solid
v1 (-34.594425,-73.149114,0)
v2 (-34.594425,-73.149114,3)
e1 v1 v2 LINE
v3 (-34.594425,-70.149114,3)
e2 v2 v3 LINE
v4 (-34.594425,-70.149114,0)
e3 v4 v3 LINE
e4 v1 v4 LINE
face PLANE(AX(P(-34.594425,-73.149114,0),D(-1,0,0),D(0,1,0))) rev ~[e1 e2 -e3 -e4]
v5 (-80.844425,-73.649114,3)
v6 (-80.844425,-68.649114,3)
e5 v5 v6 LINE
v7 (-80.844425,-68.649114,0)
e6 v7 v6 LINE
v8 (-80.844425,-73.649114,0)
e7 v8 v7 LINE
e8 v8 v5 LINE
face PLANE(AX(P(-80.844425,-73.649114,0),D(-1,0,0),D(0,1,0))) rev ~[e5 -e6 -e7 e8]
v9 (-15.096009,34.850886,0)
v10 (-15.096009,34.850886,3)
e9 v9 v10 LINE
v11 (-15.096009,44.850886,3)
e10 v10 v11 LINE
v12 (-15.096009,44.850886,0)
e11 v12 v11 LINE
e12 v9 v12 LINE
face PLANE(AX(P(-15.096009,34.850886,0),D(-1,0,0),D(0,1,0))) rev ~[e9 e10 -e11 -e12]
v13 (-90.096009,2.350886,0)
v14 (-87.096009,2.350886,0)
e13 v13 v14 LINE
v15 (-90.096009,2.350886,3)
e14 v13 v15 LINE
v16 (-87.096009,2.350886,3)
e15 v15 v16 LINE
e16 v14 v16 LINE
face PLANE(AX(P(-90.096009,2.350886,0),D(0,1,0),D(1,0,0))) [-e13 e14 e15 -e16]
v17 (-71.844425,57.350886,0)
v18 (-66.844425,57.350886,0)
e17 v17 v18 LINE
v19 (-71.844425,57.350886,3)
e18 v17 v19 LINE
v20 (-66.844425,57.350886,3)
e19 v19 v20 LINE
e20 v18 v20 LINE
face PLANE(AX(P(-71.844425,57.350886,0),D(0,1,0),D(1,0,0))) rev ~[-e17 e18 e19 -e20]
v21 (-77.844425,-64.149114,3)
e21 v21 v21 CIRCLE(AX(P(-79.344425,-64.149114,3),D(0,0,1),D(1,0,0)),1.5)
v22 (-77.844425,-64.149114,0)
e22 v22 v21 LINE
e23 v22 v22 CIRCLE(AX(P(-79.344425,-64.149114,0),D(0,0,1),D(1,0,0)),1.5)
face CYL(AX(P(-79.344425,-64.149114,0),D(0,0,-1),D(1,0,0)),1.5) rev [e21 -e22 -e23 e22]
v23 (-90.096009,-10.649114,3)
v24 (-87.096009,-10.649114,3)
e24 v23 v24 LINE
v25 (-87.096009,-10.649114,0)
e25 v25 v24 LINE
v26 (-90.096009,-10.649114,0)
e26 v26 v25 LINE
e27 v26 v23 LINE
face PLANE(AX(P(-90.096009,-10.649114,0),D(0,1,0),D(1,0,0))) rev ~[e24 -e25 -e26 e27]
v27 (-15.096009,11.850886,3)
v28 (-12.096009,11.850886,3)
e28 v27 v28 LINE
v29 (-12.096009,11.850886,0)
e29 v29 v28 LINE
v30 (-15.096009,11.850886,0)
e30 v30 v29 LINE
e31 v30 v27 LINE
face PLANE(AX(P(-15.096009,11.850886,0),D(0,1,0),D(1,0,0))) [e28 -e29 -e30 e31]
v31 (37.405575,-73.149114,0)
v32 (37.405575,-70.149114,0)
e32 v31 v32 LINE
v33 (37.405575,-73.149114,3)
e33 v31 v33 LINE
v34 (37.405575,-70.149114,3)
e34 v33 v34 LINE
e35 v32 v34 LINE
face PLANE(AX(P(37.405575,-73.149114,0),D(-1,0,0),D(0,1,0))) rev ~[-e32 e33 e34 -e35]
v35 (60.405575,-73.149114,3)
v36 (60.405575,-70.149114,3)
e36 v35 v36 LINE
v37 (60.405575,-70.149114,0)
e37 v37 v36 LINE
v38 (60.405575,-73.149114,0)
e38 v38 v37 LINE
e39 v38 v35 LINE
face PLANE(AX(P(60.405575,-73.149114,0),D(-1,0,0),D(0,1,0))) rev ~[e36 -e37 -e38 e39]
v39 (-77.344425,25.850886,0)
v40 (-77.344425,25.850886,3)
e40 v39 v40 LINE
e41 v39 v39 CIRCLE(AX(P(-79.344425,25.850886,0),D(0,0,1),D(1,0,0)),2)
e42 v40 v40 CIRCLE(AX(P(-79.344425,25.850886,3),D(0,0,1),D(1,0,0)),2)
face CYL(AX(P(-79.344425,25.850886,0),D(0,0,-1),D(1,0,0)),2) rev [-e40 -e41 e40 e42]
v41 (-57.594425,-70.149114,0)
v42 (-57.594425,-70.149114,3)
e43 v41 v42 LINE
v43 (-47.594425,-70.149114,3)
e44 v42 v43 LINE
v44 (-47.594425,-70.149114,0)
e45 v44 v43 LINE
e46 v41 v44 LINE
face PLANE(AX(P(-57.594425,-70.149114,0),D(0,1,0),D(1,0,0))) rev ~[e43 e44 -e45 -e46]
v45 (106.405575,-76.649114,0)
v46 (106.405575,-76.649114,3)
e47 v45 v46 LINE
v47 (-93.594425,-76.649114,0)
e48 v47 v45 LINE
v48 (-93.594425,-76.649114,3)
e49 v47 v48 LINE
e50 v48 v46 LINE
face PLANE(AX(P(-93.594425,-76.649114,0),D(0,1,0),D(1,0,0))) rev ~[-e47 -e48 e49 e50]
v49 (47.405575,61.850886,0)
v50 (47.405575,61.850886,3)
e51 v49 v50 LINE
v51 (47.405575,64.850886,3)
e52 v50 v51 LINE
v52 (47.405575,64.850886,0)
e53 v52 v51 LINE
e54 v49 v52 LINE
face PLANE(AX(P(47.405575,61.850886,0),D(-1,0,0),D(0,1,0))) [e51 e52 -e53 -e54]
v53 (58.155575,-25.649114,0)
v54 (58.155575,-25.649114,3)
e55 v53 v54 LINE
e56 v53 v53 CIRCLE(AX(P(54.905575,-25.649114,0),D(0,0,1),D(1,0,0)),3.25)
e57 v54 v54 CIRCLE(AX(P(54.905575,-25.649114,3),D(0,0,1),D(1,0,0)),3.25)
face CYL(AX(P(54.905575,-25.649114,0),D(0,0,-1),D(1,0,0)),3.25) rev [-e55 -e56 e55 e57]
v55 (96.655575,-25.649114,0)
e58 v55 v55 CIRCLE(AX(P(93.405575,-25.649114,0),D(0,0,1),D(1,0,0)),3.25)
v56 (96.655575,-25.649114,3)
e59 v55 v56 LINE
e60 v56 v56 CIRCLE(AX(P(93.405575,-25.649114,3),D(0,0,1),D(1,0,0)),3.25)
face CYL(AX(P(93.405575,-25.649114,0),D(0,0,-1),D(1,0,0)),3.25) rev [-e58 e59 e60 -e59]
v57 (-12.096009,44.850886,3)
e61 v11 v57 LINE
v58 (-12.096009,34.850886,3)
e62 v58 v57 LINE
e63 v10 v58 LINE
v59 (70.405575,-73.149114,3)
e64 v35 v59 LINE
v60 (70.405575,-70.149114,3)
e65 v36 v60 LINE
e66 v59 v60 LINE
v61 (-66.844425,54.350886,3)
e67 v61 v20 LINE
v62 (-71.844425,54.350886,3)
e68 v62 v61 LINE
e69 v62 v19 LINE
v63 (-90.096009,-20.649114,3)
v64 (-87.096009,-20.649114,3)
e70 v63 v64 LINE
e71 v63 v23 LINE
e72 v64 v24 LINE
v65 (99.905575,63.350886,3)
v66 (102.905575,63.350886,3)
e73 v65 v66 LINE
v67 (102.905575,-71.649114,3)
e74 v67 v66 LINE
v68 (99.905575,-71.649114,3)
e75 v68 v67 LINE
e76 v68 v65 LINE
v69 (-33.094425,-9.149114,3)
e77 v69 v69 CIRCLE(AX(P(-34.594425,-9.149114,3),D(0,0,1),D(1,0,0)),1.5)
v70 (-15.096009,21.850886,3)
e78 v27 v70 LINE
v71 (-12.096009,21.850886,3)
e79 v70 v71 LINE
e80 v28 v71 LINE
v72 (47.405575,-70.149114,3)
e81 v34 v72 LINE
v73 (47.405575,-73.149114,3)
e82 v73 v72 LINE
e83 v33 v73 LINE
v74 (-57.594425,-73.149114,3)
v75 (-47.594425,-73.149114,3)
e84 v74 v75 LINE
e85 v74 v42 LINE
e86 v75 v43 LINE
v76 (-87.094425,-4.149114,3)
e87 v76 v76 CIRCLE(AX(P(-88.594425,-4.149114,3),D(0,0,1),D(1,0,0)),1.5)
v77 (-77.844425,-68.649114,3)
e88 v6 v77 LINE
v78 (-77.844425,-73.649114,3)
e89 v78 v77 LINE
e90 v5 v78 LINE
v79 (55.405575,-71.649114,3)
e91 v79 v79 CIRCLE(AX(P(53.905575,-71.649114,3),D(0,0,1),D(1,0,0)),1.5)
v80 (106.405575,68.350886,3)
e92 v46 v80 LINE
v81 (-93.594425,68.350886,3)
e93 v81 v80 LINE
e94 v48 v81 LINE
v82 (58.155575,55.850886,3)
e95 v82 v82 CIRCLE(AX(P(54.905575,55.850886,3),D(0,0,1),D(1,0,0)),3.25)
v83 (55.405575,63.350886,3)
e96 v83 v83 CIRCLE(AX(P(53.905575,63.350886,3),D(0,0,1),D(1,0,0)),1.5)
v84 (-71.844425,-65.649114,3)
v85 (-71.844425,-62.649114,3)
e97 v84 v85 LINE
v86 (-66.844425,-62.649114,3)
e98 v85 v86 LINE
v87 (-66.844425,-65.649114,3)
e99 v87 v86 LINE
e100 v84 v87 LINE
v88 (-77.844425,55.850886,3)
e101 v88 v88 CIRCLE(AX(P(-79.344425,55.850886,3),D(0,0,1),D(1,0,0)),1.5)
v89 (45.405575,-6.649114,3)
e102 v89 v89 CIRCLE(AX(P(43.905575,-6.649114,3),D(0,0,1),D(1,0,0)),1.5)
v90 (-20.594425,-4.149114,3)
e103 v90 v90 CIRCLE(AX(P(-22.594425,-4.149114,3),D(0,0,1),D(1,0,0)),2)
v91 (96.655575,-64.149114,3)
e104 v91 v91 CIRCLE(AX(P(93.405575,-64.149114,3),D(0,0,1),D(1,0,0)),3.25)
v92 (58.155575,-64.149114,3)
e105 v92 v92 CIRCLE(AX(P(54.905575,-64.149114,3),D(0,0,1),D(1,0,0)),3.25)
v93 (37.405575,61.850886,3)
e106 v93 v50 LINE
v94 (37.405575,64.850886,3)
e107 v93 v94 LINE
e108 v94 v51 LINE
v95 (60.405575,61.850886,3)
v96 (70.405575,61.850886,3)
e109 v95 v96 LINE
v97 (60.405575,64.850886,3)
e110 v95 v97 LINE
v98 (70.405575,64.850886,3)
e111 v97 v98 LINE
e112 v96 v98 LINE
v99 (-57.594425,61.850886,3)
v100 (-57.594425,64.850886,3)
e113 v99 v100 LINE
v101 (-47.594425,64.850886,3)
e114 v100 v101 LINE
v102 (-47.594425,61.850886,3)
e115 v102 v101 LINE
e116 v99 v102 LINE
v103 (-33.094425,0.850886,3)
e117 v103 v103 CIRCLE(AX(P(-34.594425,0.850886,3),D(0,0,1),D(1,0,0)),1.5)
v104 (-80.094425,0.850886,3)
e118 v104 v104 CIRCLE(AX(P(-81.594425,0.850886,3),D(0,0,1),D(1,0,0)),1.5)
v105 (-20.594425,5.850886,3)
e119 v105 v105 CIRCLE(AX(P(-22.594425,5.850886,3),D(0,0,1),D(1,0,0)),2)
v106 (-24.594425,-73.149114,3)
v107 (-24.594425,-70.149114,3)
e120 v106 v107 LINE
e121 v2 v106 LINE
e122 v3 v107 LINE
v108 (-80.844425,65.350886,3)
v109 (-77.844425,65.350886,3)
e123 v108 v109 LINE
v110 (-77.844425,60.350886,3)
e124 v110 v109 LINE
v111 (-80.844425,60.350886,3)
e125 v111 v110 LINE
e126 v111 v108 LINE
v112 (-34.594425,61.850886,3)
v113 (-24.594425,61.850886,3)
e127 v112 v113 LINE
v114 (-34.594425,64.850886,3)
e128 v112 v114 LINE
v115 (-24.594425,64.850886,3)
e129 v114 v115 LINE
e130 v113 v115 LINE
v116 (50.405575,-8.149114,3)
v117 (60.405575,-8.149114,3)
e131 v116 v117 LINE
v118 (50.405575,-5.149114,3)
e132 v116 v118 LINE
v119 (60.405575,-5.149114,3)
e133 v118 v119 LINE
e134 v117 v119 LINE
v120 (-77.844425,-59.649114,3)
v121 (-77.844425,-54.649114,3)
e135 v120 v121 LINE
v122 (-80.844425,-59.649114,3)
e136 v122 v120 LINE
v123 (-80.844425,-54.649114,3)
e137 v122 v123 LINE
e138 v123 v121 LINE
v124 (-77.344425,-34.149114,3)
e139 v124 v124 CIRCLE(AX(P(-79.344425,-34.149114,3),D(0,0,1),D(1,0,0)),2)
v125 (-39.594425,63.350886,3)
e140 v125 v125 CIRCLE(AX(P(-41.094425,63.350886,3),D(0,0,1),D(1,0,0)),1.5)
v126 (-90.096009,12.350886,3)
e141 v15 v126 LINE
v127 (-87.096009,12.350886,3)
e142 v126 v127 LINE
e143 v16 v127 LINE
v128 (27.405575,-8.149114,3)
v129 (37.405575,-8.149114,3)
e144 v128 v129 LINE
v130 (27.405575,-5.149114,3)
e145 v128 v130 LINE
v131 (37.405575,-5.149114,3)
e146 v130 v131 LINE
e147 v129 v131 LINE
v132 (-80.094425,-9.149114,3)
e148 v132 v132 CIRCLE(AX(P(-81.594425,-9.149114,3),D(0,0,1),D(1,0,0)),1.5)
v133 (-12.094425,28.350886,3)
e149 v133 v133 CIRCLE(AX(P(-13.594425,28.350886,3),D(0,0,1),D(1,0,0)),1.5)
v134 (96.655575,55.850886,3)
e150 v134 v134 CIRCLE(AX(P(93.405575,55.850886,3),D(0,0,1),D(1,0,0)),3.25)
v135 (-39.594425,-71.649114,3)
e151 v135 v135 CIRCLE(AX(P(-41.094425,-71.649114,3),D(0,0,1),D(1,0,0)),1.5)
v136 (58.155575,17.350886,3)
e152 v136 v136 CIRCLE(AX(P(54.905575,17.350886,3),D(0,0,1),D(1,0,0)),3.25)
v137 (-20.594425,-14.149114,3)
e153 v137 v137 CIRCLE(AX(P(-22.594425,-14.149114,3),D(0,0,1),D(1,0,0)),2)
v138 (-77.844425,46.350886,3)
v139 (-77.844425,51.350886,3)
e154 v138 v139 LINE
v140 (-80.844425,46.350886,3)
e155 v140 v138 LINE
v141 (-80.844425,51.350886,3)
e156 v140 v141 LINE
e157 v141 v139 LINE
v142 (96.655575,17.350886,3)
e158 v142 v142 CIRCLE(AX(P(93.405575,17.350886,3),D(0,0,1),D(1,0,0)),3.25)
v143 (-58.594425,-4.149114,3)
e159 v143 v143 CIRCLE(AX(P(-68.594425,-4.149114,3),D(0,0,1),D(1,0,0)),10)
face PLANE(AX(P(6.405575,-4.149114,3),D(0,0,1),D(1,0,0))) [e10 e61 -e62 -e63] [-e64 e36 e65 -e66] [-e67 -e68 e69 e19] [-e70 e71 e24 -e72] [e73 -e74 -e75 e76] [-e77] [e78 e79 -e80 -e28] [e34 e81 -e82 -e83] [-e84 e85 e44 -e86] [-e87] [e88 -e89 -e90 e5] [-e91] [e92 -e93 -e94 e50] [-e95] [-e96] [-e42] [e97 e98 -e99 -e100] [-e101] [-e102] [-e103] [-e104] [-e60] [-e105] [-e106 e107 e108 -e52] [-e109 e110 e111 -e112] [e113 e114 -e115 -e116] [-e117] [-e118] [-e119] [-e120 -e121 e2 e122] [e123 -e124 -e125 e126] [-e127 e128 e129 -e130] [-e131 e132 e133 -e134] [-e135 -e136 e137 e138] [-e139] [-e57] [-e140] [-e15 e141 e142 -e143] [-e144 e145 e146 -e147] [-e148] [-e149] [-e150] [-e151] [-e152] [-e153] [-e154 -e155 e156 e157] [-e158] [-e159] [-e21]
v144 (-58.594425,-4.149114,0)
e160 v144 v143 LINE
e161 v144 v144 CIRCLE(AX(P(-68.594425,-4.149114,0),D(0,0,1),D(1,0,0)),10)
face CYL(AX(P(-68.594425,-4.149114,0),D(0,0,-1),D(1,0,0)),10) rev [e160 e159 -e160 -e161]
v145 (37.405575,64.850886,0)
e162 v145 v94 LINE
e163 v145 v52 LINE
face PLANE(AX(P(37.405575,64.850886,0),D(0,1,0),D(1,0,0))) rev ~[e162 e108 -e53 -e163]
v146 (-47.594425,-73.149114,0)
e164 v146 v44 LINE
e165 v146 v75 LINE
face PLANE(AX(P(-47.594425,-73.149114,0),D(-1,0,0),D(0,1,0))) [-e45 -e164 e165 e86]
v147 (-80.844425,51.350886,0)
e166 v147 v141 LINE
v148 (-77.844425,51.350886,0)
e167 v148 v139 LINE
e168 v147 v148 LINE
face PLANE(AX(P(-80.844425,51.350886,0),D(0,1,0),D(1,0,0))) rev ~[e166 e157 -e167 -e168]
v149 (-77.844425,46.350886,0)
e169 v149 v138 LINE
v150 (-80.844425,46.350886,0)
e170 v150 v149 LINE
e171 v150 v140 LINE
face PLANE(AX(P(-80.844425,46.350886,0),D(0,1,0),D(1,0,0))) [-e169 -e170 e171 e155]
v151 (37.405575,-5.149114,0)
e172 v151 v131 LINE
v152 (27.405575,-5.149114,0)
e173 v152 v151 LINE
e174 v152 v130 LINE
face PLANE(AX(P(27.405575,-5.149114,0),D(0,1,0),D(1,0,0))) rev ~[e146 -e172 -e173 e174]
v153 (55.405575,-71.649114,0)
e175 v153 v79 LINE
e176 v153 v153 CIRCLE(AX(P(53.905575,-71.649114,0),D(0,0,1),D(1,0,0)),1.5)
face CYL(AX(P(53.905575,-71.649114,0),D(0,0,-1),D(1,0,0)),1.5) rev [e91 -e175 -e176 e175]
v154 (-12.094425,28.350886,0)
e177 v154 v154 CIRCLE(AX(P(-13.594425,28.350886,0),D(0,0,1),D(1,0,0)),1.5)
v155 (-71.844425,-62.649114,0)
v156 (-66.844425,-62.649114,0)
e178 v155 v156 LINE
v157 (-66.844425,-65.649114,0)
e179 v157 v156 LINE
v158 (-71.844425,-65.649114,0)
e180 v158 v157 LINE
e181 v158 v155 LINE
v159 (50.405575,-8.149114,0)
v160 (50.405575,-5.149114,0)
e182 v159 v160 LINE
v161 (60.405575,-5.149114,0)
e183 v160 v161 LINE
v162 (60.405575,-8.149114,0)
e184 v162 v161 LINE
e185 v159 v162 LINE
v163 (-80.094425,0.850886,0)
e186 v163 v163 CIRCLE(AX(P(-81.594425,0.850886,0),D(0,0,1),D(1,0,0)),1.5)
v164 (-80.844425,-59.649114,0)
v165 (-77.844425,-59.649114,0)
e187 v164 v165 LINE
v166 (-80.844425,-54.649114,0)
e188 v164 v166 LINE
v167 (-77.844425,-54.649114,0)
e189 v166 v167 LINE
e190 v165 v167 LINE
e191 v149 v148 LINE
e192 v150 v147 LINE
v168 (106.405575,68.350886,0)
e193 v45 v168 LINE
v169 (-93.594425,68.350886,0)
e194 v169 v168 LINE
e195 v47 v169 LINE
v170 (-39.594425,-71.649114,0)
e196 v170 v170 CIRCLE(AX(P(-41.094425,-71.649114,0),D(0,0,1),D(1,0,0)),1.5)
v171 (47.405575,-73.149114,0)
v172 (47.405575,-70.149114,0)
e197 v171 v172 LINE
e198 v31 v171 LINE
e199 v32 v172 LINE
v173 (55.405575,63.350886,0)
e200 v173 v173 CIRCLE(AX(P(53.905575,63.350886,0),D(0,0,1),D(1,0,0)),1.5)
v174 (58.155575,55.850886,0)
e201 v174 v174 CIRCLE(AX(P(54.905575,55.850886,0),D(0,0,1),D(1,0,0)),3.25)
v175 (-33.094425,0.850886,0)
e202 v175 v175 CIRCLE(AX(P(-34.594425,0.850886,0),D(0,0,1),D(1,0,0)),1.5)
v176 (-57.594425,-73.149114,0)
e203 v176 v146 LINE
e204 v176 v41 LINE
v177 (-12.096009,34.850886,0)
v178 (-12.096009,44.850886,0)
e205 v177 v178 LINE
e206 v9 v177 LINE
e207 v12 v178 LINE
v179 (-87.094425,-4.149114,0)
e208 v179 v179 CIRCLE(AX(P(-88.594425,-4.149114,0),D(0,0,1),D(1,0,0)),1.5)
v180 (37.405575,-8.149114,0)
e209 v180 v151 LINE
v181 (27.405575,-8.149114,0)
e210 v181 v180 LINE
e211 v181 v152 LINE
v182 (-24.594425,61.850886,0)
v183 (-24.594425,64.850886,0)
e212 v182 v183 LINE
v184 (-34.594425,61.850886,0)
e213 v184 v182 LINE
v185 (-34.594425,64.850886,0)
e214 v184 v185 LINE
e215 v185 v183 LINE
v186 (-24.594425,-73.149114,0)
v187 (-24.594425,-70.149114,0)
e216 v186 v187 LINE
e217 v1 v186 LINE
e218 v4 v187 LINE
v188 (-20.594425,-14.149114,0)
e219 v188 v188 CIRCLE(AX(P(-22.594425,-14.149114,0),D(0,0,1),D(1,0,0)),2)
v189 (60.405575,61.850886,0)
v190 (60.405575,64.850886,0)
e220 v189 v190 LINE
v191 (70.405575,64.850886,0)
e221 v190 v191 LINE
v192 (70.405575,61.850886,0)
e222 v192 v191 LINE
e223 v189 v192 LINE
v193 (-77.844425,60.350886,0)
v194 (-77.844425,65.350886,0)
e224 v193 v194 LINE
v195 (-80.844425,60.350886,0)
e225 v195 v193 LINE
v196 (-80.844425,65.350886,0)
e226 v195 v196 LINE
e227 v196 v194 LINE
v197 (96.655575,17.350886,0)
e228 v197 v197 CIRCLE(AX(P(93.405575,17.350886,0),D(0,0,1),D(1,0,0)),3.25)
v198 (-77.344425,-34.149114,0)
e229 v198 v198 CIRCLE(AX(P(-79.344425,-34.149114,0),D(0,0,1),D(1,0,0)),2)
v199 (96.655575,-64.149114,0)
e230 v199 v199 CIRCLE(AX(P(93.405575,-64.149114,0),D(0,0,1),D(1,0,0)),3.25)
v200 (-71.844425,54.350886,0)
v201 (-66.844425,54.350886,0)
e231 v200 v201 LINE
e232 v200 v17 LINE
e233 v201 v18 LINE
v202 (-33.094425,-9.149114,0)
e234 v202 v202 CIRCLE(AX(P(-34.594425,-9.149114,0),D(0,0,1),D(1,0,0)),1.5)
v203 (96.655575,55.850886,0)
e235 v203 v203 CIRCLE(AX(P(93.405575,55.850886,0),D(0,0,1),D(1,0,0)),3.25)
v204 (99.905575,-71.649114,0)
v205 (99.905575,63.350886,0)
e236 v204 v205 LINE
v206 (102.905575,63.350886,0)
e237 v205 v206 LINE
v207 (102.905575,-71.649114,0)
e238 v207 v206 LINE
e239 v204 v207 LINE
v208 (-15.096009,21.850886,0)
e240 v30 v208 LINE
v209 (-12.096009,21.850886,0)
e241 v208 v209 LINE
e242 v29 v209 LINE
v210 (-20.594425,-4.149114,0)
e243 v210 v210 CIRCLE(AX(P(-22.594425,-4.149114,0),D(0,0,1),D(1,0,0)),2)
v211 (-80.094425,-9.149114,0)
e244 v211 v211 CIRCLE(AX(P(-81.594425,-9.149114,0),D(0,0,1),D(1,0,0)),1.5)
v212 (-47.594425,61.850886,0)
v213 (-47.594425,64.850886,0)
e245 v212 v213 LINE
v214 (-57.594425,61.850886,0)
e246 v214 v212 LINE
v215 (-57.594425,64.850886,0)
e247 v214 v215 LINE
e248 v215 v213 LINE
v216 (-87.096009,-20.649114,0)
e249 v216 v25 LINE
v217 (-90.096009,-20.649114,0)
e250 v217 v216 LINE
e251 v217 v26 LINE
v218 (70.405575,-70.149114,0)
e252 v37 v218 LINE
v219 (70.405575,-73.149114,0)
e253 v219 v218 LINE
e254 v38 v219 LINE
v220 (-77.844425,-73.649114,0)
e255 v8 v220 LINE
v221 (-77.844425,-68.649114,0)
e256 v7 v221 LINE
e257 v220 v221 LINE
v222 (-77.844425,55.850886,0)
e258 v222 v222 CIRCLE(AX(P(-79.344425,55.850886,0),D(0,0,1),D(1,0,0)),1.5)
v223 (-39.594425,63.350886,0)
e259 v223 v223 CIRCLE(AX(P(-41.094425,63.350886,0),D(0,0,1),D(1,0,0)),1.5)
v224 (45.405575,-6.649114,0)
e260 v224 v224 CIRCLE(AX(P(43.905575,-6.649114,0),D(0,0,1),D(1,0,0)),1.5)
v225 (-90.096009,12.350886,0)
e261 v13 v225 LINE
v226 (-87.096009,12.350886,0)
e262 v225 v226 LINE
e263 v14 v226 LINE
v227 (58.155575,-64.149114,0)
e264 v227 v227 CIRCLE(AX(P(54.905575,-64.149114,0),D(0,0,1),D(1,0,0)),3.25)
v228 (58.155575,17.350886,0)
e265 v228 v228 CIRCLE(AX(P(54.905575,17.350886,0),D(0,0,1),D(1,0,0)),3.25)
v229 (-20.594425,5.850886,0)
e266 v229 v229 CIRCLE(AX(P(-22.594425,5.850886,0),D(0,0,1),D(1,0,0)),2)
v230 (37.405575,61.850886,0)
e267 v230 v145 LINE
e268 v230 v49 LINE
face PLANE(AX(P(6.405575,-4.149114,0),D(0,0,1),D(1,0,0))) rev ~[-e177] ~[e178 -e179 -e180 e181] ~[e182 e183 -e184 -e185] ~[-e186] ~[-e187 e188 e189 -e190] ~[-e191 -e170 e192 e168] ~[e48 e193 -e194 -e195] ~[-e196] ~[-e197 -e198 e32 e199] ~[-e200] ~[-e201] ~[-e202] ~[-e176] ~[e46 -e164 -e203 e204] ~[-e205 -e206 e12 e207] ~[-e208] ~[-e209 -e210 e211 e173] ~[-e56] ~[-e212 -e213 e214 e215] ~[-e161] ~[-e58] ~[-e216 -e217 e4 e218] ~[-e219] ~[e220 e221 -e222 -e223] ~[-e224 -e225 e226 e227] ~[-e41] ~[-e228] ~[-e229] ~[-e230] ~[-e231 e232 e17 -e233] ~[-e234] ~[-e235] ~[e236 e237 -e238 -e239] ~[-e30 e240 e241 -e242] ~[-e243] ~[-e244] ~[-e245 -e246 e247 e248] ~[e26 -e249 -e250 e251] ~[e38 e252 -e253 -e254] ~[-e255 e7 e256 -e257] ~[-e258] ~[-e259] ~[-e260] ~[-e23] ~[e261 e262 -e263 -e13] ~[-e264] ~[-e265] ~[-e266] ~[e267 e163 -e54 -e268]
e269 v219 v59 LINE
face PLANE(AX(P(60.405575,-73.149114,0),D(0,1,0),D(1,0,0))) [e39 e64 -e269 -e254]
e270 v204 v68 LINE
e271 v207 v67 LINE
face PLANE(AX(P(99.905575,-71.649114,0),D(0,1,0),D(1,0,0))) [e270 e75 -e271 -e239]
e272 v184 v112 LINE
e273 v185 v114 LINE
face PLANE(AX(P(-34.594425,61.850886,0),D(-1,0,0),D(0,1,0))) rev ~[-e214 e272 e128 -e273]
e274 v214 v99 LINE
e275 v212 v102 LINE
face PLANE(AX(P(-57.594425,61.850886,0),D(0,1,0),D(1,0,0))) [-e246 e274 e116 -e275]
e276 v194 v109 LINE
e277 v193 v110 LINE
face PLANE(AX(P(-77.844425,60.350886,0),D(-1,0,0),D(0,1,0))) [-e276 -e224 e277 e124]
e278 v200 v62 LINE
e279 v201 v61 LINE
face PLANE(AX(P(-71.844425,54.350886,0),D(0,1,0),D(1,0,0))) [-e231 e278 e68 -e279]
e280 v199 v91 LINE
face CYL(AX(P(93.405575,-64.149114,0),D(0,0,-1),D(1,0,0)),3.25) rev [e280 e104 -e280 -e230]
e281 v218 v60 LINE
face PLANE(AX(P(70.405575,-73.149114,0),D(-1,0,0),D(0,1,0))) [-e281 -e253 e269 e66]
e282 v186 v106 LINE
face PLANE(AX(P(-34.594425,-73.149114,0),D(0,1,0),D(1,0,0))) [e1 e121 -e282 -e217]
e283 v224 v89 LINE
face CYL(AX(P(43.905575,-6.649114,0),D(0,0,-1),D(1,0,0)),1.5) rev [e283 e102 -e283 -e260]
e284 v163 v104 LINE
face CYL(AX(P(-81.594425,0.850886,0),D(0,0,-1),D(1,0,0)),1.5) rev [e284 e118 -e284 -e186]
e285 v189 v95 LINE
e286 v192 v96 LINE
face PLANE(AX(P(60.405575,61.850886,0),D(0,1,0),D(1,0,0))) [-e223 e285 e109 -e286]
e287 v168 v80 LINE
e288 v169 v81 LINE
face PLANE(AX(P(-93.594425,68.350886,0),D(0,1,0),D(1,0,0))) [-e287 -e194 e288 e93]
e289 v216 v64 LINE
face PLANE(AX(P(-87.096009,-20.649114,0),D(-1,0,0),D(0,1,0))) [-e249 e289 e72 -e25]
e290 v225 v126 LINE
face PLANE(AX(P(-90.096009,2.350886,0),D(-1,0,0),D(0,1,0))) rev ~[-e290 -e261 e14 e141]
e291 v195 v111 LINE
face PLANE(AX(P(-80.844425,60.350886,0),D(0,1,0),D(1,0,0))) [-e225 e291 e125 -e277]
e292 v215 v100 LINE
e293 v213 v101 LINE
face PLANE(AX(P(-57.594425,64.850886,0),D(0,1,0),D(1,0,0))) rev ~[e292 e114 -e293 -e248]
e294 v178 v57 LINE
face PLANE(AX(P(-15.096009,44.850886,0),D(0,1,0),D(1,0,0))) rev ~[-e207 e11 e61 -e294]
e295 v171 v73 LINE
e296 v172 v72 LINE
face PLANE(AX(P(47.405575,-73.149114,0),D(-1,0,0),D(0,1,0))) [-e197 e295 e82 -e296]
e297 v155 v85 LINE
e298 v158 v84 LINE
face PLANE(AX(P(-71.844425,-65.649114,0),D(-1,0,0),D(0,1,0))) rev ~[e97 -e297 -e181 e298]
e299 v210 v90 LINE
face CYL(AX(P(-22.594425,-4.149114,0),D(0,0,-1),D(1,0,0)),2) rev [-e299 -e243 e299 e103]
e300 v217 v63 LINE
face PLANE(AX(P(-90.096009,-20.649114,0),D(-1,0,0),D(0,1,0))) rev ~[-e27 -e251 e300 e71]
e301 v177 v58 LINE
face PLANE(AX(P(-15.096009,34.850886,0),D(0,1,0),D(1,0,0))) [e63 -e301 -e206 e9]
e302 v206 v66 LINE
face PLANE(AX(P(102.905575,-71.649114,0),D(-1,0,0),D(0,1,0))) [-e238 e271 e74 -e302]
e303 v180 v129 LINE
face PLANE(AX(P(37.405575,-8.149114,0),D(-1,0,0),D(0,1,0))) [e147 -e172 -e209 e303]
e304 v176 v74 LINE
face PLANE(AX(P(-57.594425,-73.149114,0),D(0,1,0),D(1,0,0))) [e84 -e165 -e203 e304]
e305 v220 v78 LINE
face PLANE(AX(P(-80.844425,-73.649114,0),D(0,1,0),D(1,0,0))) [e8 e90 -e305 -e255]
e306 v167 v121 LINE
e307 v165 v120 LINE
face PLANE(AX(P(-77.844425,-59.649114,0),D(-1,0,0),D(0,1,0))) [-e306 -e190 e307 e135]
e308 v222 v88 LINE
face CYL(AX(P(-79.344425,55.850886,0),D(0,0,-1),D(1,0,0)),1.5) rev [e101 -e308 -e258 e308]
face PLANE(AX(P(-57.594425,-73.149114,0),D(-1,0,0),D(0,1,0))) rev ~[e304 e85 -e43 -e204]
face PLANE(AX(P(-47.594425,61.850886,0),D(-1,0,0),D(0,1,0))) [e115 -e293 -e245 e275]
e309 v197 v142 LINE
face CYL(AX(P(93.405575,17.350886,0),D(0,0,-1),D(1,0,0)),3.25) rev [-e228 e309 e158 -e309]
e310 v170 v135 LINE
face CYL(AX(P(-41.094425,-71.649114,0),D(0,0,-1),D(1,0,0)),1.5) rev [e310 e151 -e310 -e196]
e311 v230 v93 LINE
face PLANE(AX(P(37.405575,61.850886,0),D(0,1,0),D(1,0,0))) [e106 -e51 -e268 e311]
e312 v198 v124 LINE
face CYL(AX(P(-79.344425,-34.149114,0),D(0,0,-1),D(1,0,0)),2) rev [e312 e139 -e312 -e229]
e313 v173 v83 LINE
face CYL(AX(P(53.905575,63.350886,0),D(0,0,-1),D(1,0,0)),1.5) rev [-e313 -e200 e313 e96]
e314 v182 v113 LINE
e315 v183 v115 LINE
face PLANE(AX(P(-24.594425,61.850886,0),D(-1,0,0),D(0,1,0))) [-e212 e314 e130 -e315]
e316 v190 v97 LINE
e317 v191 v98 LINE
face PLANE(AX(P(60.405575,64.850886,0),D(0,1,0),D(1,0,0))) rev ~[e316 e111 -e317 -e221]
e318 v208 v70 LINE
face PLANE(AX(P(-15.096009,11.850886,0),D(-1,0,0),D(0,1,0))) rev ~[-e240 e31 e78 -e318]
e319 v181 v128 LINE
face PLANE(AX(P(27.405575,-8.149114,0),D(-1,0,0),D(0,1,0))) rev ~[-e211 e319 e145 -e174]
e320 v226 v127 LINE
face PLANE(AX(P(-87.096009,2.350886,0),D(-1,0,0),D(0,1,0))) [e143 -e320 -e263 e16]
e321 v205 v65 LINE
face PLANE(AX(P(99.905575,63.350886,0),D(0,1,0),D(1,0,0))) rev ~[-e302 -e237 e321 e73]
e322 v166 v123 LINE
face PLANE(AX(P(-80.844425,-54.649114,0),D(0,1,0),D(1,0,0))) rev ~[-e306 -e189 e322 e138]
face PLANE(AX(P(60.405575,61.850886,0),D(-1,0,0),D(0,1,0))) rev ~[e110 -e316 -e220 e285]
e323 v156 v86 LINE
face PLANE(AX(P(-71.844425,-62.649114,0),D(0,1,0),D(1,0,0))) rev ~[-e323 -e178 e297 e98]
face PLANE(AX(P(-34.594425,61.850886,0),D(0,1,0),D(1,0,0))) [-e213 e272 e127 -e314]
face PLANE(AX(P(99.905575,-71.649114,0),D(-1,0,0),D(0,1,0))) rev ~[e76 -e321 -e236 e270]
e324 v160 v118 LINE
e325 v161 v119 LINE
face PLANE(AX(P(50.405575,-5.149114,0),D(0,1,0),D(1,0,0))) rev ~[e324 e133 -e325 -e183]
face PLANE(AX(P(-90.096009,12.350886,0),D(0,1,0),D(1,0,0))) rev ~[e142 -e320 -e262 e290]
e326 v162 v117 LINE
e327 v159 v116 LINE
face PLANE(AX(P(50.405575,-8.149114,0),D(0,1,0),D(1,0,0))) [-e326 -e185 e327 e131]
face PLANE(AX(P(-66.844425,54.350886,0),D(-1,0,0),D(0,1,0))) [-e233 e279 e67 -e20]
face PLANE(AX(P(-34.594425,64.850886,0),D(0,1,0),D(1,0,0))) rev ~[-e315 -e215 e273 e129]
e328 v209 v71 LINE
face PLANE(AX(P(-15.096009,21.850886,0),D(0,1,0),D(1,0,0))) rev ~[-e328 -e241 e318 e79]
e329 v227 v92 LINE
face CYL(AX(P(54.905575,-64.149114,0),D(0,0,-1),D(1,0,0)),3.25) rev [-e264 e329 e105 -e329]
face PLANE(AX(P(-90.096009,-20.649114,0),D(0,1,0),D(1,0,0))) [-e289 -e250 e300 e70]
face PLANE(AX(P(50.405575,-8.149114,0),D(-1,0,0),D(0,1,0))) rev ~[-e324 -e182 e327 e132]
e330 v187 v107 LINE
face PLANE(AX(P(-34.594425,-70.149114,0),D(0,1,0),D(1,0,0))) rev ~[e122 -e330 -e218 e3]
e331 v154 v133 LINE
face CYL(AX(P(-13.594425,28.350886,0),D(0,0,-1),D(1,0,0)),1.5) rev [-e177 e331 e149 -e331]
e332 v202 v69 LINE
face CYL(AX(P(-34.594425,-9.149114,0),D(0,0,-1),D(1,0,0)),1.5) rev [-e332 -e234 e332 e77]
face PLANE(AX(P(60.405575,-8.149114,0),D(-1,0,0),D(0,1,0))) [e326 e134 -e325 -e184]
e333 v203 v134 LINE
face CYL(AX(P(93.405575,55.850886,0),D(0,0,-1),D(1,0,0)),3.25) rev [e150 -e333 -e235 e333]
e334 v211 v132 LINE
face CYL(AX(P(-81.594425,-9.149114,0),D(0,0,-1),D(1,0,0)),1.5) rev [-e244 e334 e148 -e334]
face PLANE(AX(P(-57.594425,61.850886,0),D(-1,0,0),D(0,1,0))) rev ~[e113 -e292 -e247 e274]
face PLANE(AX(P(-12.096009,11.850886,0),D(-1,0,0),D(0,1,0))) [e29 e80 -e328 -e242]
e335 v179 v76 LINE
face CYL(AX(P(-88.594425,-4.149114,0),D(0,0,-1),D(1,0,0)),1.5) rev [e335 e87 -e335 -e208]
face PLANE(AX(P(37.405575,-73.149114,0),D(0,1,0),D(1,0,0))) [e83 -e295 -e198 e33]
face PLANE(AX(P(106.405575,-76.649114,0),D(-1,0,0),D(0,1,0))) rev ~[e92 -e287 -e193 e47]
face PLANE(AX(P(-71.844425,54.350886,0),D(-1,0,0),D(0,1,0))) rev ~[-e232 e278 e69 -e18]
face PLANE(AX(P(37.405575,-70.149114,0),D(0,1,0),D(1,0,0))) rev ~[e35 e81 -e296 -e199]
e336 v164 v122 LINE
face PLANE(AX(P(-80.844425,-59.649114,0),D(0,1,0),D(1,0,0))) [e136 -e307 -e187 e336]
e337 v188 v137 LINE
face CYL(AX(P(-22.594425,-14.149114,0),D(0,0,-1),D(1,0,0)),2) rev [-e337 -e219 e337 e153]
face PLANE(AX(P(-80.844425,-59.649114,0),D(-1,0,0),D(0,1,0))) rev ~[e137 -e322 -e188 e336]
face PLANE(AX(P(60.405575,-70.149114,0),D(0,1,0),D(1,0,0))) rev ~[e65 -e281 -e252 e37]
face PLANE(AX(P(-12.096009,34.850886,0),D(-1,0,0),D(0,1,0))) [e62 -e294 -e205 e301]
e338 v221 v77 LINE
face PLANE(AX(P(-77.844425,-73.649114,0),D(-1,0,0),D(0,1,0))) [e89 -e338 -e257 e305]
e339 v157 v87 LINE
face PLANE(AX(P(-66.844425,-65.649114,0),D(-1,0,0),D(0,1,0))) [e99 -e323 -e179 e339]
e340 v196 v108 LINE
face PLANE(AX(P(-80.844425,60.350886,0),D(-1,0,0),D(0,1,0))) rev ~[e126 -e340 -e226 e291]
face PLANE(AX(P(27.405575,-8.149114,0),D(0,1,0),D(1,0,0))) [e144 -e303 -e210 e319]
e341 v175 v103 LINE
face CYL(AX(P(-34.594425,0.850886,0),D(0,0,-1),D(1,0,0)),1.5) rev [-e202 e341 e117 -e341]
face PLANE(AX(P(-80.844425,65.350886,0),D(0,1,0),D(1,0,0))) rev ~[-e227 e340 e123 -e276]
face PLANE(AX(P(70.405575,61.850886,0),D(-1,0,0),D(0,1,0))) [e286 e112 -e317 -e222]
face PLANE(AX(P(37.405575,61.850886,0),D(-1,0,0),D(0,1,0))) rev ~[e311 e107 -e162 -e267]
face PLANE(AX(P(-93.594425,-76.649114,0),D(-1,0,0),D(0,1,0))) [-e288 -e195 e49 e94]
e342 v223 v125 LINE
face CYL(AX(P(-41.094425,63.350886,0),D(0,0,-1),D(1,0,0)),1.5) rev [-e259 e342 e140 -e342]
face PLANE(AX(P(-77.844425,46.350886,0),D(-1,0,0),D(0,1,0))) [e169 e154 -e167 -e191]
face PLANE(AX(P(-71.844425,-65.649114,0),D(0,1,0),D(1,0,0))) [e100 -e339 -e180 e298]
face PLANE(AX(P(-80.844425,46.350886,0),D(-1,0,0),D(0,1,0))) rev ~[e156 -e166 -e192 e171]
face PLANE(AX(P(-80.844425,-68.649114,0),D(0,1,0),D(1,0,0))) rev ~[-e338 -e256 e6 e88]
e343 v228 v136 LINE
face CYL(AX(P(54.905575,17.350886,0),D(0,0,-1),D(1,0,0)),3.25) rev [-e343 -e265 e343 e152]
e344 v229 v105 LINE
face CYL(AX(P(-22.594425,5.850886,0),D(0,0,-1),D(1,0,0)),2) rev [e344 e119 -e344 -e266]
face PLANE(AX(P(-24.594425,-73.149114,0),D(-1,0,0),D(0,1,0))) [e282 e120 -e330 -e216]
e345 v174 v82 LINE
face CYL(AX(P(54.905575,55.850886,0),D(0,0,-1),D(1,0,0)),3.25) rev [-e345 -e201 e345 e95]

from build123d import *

# Parameters (mm, degrees)
F0_W     = 200
F0_H     = 145
F0_W_2   = 3
F0_H_2   = 5
F0_R     = 1.5
F0_W_3   = 5
F0_H_3   = 3
F0_W_4   = 10
F0_R_2   = 2
F0_H_4   = 10
F0_R_3   = 3.25
F0_R_4   = 10
F0_H_5   = 135
F1_DEPTH = 3


with BuildPart() as f1:
    # F0 (on Top) → F1 (new body)
    with BuildSketch(Plane.XY):
        with Locations((6.405575, -4.149114)):
            Rectangle(F0_W, F0_H)
        with Locations((-79.344425, -71.149114)):
            Rectangle(F0_W_2, F0_H_2, mode=Mode.SUBTRACT)
        with Locations((-79.344425, -64.149114)):
            Circle(F0_R, mode=Mode.SUBTRACT)
        with Locations((-69.344425, -64.149114)):
            Rectangle(F0_W_3, F0_H_3, mode=Mode.SUBTRACT)
        with Locations((-52.594425, -71.649114)):
            Rectangle(F0_W_4, F0_H_3, mode=Mode.SUBTRACT)
        with Locations((-79.344425, -57.149114)):
            Rectangle(F0_W_2, F0_H_2, mode=Mode.SUBTRACT)
        with Locations((-41.094425, -71.649114)):
            Circle(F0_R, mode=Mode.SUBTRACT)
        with Locations((-29.594425, -71.649114)):
            Rectangle(F0_W_4, F0_H_3, mode=Mode.SUBTRACT)
        with Locations((-79.344425, -34.149114)):
            Circle(F0_R_2, mode=Mode.SUBTRACT)
        with Locations((-88.596009, -15.649114)):
            Rectangle(F0_W_2, F0_H_4, mode=Mode.SUBTRACT)
        with Locations((-81.594425, -9.149114)):
            Circle(F0_R, mode=Mode.SUBTRACT)
        with Locations((-22.594425, -14.149114)):
            Circle(F0_R_2, mode=Mode.SUBTRACT)
        with Locations((-34.594425, -9.149114)):
            Circle(F0_R, mode=Mode.SUBTRACT)
        with Locations((42.405575, -71.649114)):
            Rectangle(F0_W_4, F0_H_3, mode=Mode.SUBTRACT)
        with Locations((53.905575, -71.649114)):
            Circle(F0_R, mode=Mode.SUBTRACT)
        with Locations((54.905575, -64.149114)):
            Circle(F0_R_3, mode=Mode.SUBTRACT)
        with Locations((65.405575, -71.649114)):
            Rectangle(F0_W_4, F0_H_3, mode=Mode.SUBTRACT)
        with Locations((93.405575, -64.149114)):
            Circle(F0_R_3, mode=Mode.SUBTRACT)
        with Locations((54.905575, -25.649114)):
            Circle(F0_R_3, mode=Mode.SUBTRACT)
        with Locations((32.405575, -6.649114)):
            Rectangle(F0_W_4, F0_H_3, mode=Mode.SUBTRACT)
        with Locations((43.905575, -6.649114)):
            Circle(F0_R, mode=Mode.SUBTRACT)
        with Locations((55.405575, -6.649114)):
            Rectangle(F0_W_4, F0_H_3, mode=Mode.SUBTRACT)
        with Locations((93.405575, -25.649114)):
            Circle(F0_R_3, mode=Mode.SUBTRACT)
        with Locations((-88.594425, -4.149114)):
            Circle(F0_R, mode=Mode.SUBTRACT)
        with Locations((-81.594425, 0.850886)):
            Circle(F0_R, mode=Mode.SUBTRACT)
        with Locations((-68.594425, -4.149114)):
            Circle(F0_R_4, mode=Mode.SUBTRACT)
        with Locations((-88.596009, 7.350886)):
            Rectangle(F0_W_2, F0_H_4, mode=Mode.SUBTRACT)
        with Locations((-79.344425, 25.850886)):
            Circle(F0_R_2, mode=Mode.SUBTRACT)
        with Locations((-34.594425, 0.850886)):
            Circle(F0_R, mode=Mode.SUBTRACT)
        with Locations((-22.594425, -4.149114)):
            Circle(F0_R_2, mode=Mode.SUBTRACT)
        with Locations((-22.594425, 5.850886)):
            Circle(F0_R_2, mode=Mode.SUBTRACT)
        with Locations((-13.596009, 16.850886)):
            Rectangle(F0_W_2, F0_H_4, mode=Mode.SUBTRACT)
        with Locations((-13.594425, 28.350886)):
            Circle(F0_R, mode=Mode.SUBTRACT)
        with Locations((-79.344425, 48.850886)):
            Rectangle(F0_W_2, F0_H_2, mode=Mode.SUBTRACT)
        with Locations((-79.344425, 55.850886)):
            Circle(F0_R, mode=Mode.SUBTRACT)
        with Locations((-69.344425, 55.850886)):
            Rectangle(F0_W_3, F0_H_3, mode=Mode.SUBTRACT)
        with Locations((-79.344425, 62.850886)):
            Rectangle(F0_W_2, F0_H_2, mode=Mode.SUBTRACT)
        with Locations((-52.594425, 63.350886)):
            Rectangle(F0_W_4, F0_H_3, mode=Mode.SUBTRACT)
        with Locations((-13.596009, 39.850886)):
            Rectangle(F0_W_2, F0_H_4, mode=Mode.SUBTRACT)
        with Locations((-41.094425, 63.350886)):
            Circle(F0_R, mode=Mode.SUBTRACT)
        with Locations((-29.594425, 63.350886)):
            Rectangle(F0_W_4, F0_H_3, mode=Mode.SUBTRACT)
        with Locations((54.905575, 17.350886)):
            Circle(F0_R_3, mode=Mode.SUBTRACT)
        with Locations((101.405575, -4.149114)):
            Rectangle(F0_W_2, F0_H_5, mode=Mode.SUBTRACT)
        with Locations((93.405575, 17.350886)):
            Circle(F0_R_3, mode=Mode.SUBTRACT)
        with Locations((54.905575, 55.850886)):
            Circle(F0_R_3, mode=Mode.SUBTRACT)
        with Locations((42.405575, 63.350886)):
            Rectangle(F0_W_4, F0_H_3, mode=Mode.SUBTRACT)
        with Locations((53.905575, 63.350886)):
            Circle(F0_R, mode=Mode.SUBTRACT)
        with Locations((65.405575, 63.350886)):
            Rectangle(F0_W_4, F0_H_3, mode=Mode.SUBTRACT)
        with Locations((93.405575, 55.850886)):
            Circle(F0_R_3, mode=Mode.SUBTRACT)
    extrude(amount=F1_DEPTH)


solid = f1.part
